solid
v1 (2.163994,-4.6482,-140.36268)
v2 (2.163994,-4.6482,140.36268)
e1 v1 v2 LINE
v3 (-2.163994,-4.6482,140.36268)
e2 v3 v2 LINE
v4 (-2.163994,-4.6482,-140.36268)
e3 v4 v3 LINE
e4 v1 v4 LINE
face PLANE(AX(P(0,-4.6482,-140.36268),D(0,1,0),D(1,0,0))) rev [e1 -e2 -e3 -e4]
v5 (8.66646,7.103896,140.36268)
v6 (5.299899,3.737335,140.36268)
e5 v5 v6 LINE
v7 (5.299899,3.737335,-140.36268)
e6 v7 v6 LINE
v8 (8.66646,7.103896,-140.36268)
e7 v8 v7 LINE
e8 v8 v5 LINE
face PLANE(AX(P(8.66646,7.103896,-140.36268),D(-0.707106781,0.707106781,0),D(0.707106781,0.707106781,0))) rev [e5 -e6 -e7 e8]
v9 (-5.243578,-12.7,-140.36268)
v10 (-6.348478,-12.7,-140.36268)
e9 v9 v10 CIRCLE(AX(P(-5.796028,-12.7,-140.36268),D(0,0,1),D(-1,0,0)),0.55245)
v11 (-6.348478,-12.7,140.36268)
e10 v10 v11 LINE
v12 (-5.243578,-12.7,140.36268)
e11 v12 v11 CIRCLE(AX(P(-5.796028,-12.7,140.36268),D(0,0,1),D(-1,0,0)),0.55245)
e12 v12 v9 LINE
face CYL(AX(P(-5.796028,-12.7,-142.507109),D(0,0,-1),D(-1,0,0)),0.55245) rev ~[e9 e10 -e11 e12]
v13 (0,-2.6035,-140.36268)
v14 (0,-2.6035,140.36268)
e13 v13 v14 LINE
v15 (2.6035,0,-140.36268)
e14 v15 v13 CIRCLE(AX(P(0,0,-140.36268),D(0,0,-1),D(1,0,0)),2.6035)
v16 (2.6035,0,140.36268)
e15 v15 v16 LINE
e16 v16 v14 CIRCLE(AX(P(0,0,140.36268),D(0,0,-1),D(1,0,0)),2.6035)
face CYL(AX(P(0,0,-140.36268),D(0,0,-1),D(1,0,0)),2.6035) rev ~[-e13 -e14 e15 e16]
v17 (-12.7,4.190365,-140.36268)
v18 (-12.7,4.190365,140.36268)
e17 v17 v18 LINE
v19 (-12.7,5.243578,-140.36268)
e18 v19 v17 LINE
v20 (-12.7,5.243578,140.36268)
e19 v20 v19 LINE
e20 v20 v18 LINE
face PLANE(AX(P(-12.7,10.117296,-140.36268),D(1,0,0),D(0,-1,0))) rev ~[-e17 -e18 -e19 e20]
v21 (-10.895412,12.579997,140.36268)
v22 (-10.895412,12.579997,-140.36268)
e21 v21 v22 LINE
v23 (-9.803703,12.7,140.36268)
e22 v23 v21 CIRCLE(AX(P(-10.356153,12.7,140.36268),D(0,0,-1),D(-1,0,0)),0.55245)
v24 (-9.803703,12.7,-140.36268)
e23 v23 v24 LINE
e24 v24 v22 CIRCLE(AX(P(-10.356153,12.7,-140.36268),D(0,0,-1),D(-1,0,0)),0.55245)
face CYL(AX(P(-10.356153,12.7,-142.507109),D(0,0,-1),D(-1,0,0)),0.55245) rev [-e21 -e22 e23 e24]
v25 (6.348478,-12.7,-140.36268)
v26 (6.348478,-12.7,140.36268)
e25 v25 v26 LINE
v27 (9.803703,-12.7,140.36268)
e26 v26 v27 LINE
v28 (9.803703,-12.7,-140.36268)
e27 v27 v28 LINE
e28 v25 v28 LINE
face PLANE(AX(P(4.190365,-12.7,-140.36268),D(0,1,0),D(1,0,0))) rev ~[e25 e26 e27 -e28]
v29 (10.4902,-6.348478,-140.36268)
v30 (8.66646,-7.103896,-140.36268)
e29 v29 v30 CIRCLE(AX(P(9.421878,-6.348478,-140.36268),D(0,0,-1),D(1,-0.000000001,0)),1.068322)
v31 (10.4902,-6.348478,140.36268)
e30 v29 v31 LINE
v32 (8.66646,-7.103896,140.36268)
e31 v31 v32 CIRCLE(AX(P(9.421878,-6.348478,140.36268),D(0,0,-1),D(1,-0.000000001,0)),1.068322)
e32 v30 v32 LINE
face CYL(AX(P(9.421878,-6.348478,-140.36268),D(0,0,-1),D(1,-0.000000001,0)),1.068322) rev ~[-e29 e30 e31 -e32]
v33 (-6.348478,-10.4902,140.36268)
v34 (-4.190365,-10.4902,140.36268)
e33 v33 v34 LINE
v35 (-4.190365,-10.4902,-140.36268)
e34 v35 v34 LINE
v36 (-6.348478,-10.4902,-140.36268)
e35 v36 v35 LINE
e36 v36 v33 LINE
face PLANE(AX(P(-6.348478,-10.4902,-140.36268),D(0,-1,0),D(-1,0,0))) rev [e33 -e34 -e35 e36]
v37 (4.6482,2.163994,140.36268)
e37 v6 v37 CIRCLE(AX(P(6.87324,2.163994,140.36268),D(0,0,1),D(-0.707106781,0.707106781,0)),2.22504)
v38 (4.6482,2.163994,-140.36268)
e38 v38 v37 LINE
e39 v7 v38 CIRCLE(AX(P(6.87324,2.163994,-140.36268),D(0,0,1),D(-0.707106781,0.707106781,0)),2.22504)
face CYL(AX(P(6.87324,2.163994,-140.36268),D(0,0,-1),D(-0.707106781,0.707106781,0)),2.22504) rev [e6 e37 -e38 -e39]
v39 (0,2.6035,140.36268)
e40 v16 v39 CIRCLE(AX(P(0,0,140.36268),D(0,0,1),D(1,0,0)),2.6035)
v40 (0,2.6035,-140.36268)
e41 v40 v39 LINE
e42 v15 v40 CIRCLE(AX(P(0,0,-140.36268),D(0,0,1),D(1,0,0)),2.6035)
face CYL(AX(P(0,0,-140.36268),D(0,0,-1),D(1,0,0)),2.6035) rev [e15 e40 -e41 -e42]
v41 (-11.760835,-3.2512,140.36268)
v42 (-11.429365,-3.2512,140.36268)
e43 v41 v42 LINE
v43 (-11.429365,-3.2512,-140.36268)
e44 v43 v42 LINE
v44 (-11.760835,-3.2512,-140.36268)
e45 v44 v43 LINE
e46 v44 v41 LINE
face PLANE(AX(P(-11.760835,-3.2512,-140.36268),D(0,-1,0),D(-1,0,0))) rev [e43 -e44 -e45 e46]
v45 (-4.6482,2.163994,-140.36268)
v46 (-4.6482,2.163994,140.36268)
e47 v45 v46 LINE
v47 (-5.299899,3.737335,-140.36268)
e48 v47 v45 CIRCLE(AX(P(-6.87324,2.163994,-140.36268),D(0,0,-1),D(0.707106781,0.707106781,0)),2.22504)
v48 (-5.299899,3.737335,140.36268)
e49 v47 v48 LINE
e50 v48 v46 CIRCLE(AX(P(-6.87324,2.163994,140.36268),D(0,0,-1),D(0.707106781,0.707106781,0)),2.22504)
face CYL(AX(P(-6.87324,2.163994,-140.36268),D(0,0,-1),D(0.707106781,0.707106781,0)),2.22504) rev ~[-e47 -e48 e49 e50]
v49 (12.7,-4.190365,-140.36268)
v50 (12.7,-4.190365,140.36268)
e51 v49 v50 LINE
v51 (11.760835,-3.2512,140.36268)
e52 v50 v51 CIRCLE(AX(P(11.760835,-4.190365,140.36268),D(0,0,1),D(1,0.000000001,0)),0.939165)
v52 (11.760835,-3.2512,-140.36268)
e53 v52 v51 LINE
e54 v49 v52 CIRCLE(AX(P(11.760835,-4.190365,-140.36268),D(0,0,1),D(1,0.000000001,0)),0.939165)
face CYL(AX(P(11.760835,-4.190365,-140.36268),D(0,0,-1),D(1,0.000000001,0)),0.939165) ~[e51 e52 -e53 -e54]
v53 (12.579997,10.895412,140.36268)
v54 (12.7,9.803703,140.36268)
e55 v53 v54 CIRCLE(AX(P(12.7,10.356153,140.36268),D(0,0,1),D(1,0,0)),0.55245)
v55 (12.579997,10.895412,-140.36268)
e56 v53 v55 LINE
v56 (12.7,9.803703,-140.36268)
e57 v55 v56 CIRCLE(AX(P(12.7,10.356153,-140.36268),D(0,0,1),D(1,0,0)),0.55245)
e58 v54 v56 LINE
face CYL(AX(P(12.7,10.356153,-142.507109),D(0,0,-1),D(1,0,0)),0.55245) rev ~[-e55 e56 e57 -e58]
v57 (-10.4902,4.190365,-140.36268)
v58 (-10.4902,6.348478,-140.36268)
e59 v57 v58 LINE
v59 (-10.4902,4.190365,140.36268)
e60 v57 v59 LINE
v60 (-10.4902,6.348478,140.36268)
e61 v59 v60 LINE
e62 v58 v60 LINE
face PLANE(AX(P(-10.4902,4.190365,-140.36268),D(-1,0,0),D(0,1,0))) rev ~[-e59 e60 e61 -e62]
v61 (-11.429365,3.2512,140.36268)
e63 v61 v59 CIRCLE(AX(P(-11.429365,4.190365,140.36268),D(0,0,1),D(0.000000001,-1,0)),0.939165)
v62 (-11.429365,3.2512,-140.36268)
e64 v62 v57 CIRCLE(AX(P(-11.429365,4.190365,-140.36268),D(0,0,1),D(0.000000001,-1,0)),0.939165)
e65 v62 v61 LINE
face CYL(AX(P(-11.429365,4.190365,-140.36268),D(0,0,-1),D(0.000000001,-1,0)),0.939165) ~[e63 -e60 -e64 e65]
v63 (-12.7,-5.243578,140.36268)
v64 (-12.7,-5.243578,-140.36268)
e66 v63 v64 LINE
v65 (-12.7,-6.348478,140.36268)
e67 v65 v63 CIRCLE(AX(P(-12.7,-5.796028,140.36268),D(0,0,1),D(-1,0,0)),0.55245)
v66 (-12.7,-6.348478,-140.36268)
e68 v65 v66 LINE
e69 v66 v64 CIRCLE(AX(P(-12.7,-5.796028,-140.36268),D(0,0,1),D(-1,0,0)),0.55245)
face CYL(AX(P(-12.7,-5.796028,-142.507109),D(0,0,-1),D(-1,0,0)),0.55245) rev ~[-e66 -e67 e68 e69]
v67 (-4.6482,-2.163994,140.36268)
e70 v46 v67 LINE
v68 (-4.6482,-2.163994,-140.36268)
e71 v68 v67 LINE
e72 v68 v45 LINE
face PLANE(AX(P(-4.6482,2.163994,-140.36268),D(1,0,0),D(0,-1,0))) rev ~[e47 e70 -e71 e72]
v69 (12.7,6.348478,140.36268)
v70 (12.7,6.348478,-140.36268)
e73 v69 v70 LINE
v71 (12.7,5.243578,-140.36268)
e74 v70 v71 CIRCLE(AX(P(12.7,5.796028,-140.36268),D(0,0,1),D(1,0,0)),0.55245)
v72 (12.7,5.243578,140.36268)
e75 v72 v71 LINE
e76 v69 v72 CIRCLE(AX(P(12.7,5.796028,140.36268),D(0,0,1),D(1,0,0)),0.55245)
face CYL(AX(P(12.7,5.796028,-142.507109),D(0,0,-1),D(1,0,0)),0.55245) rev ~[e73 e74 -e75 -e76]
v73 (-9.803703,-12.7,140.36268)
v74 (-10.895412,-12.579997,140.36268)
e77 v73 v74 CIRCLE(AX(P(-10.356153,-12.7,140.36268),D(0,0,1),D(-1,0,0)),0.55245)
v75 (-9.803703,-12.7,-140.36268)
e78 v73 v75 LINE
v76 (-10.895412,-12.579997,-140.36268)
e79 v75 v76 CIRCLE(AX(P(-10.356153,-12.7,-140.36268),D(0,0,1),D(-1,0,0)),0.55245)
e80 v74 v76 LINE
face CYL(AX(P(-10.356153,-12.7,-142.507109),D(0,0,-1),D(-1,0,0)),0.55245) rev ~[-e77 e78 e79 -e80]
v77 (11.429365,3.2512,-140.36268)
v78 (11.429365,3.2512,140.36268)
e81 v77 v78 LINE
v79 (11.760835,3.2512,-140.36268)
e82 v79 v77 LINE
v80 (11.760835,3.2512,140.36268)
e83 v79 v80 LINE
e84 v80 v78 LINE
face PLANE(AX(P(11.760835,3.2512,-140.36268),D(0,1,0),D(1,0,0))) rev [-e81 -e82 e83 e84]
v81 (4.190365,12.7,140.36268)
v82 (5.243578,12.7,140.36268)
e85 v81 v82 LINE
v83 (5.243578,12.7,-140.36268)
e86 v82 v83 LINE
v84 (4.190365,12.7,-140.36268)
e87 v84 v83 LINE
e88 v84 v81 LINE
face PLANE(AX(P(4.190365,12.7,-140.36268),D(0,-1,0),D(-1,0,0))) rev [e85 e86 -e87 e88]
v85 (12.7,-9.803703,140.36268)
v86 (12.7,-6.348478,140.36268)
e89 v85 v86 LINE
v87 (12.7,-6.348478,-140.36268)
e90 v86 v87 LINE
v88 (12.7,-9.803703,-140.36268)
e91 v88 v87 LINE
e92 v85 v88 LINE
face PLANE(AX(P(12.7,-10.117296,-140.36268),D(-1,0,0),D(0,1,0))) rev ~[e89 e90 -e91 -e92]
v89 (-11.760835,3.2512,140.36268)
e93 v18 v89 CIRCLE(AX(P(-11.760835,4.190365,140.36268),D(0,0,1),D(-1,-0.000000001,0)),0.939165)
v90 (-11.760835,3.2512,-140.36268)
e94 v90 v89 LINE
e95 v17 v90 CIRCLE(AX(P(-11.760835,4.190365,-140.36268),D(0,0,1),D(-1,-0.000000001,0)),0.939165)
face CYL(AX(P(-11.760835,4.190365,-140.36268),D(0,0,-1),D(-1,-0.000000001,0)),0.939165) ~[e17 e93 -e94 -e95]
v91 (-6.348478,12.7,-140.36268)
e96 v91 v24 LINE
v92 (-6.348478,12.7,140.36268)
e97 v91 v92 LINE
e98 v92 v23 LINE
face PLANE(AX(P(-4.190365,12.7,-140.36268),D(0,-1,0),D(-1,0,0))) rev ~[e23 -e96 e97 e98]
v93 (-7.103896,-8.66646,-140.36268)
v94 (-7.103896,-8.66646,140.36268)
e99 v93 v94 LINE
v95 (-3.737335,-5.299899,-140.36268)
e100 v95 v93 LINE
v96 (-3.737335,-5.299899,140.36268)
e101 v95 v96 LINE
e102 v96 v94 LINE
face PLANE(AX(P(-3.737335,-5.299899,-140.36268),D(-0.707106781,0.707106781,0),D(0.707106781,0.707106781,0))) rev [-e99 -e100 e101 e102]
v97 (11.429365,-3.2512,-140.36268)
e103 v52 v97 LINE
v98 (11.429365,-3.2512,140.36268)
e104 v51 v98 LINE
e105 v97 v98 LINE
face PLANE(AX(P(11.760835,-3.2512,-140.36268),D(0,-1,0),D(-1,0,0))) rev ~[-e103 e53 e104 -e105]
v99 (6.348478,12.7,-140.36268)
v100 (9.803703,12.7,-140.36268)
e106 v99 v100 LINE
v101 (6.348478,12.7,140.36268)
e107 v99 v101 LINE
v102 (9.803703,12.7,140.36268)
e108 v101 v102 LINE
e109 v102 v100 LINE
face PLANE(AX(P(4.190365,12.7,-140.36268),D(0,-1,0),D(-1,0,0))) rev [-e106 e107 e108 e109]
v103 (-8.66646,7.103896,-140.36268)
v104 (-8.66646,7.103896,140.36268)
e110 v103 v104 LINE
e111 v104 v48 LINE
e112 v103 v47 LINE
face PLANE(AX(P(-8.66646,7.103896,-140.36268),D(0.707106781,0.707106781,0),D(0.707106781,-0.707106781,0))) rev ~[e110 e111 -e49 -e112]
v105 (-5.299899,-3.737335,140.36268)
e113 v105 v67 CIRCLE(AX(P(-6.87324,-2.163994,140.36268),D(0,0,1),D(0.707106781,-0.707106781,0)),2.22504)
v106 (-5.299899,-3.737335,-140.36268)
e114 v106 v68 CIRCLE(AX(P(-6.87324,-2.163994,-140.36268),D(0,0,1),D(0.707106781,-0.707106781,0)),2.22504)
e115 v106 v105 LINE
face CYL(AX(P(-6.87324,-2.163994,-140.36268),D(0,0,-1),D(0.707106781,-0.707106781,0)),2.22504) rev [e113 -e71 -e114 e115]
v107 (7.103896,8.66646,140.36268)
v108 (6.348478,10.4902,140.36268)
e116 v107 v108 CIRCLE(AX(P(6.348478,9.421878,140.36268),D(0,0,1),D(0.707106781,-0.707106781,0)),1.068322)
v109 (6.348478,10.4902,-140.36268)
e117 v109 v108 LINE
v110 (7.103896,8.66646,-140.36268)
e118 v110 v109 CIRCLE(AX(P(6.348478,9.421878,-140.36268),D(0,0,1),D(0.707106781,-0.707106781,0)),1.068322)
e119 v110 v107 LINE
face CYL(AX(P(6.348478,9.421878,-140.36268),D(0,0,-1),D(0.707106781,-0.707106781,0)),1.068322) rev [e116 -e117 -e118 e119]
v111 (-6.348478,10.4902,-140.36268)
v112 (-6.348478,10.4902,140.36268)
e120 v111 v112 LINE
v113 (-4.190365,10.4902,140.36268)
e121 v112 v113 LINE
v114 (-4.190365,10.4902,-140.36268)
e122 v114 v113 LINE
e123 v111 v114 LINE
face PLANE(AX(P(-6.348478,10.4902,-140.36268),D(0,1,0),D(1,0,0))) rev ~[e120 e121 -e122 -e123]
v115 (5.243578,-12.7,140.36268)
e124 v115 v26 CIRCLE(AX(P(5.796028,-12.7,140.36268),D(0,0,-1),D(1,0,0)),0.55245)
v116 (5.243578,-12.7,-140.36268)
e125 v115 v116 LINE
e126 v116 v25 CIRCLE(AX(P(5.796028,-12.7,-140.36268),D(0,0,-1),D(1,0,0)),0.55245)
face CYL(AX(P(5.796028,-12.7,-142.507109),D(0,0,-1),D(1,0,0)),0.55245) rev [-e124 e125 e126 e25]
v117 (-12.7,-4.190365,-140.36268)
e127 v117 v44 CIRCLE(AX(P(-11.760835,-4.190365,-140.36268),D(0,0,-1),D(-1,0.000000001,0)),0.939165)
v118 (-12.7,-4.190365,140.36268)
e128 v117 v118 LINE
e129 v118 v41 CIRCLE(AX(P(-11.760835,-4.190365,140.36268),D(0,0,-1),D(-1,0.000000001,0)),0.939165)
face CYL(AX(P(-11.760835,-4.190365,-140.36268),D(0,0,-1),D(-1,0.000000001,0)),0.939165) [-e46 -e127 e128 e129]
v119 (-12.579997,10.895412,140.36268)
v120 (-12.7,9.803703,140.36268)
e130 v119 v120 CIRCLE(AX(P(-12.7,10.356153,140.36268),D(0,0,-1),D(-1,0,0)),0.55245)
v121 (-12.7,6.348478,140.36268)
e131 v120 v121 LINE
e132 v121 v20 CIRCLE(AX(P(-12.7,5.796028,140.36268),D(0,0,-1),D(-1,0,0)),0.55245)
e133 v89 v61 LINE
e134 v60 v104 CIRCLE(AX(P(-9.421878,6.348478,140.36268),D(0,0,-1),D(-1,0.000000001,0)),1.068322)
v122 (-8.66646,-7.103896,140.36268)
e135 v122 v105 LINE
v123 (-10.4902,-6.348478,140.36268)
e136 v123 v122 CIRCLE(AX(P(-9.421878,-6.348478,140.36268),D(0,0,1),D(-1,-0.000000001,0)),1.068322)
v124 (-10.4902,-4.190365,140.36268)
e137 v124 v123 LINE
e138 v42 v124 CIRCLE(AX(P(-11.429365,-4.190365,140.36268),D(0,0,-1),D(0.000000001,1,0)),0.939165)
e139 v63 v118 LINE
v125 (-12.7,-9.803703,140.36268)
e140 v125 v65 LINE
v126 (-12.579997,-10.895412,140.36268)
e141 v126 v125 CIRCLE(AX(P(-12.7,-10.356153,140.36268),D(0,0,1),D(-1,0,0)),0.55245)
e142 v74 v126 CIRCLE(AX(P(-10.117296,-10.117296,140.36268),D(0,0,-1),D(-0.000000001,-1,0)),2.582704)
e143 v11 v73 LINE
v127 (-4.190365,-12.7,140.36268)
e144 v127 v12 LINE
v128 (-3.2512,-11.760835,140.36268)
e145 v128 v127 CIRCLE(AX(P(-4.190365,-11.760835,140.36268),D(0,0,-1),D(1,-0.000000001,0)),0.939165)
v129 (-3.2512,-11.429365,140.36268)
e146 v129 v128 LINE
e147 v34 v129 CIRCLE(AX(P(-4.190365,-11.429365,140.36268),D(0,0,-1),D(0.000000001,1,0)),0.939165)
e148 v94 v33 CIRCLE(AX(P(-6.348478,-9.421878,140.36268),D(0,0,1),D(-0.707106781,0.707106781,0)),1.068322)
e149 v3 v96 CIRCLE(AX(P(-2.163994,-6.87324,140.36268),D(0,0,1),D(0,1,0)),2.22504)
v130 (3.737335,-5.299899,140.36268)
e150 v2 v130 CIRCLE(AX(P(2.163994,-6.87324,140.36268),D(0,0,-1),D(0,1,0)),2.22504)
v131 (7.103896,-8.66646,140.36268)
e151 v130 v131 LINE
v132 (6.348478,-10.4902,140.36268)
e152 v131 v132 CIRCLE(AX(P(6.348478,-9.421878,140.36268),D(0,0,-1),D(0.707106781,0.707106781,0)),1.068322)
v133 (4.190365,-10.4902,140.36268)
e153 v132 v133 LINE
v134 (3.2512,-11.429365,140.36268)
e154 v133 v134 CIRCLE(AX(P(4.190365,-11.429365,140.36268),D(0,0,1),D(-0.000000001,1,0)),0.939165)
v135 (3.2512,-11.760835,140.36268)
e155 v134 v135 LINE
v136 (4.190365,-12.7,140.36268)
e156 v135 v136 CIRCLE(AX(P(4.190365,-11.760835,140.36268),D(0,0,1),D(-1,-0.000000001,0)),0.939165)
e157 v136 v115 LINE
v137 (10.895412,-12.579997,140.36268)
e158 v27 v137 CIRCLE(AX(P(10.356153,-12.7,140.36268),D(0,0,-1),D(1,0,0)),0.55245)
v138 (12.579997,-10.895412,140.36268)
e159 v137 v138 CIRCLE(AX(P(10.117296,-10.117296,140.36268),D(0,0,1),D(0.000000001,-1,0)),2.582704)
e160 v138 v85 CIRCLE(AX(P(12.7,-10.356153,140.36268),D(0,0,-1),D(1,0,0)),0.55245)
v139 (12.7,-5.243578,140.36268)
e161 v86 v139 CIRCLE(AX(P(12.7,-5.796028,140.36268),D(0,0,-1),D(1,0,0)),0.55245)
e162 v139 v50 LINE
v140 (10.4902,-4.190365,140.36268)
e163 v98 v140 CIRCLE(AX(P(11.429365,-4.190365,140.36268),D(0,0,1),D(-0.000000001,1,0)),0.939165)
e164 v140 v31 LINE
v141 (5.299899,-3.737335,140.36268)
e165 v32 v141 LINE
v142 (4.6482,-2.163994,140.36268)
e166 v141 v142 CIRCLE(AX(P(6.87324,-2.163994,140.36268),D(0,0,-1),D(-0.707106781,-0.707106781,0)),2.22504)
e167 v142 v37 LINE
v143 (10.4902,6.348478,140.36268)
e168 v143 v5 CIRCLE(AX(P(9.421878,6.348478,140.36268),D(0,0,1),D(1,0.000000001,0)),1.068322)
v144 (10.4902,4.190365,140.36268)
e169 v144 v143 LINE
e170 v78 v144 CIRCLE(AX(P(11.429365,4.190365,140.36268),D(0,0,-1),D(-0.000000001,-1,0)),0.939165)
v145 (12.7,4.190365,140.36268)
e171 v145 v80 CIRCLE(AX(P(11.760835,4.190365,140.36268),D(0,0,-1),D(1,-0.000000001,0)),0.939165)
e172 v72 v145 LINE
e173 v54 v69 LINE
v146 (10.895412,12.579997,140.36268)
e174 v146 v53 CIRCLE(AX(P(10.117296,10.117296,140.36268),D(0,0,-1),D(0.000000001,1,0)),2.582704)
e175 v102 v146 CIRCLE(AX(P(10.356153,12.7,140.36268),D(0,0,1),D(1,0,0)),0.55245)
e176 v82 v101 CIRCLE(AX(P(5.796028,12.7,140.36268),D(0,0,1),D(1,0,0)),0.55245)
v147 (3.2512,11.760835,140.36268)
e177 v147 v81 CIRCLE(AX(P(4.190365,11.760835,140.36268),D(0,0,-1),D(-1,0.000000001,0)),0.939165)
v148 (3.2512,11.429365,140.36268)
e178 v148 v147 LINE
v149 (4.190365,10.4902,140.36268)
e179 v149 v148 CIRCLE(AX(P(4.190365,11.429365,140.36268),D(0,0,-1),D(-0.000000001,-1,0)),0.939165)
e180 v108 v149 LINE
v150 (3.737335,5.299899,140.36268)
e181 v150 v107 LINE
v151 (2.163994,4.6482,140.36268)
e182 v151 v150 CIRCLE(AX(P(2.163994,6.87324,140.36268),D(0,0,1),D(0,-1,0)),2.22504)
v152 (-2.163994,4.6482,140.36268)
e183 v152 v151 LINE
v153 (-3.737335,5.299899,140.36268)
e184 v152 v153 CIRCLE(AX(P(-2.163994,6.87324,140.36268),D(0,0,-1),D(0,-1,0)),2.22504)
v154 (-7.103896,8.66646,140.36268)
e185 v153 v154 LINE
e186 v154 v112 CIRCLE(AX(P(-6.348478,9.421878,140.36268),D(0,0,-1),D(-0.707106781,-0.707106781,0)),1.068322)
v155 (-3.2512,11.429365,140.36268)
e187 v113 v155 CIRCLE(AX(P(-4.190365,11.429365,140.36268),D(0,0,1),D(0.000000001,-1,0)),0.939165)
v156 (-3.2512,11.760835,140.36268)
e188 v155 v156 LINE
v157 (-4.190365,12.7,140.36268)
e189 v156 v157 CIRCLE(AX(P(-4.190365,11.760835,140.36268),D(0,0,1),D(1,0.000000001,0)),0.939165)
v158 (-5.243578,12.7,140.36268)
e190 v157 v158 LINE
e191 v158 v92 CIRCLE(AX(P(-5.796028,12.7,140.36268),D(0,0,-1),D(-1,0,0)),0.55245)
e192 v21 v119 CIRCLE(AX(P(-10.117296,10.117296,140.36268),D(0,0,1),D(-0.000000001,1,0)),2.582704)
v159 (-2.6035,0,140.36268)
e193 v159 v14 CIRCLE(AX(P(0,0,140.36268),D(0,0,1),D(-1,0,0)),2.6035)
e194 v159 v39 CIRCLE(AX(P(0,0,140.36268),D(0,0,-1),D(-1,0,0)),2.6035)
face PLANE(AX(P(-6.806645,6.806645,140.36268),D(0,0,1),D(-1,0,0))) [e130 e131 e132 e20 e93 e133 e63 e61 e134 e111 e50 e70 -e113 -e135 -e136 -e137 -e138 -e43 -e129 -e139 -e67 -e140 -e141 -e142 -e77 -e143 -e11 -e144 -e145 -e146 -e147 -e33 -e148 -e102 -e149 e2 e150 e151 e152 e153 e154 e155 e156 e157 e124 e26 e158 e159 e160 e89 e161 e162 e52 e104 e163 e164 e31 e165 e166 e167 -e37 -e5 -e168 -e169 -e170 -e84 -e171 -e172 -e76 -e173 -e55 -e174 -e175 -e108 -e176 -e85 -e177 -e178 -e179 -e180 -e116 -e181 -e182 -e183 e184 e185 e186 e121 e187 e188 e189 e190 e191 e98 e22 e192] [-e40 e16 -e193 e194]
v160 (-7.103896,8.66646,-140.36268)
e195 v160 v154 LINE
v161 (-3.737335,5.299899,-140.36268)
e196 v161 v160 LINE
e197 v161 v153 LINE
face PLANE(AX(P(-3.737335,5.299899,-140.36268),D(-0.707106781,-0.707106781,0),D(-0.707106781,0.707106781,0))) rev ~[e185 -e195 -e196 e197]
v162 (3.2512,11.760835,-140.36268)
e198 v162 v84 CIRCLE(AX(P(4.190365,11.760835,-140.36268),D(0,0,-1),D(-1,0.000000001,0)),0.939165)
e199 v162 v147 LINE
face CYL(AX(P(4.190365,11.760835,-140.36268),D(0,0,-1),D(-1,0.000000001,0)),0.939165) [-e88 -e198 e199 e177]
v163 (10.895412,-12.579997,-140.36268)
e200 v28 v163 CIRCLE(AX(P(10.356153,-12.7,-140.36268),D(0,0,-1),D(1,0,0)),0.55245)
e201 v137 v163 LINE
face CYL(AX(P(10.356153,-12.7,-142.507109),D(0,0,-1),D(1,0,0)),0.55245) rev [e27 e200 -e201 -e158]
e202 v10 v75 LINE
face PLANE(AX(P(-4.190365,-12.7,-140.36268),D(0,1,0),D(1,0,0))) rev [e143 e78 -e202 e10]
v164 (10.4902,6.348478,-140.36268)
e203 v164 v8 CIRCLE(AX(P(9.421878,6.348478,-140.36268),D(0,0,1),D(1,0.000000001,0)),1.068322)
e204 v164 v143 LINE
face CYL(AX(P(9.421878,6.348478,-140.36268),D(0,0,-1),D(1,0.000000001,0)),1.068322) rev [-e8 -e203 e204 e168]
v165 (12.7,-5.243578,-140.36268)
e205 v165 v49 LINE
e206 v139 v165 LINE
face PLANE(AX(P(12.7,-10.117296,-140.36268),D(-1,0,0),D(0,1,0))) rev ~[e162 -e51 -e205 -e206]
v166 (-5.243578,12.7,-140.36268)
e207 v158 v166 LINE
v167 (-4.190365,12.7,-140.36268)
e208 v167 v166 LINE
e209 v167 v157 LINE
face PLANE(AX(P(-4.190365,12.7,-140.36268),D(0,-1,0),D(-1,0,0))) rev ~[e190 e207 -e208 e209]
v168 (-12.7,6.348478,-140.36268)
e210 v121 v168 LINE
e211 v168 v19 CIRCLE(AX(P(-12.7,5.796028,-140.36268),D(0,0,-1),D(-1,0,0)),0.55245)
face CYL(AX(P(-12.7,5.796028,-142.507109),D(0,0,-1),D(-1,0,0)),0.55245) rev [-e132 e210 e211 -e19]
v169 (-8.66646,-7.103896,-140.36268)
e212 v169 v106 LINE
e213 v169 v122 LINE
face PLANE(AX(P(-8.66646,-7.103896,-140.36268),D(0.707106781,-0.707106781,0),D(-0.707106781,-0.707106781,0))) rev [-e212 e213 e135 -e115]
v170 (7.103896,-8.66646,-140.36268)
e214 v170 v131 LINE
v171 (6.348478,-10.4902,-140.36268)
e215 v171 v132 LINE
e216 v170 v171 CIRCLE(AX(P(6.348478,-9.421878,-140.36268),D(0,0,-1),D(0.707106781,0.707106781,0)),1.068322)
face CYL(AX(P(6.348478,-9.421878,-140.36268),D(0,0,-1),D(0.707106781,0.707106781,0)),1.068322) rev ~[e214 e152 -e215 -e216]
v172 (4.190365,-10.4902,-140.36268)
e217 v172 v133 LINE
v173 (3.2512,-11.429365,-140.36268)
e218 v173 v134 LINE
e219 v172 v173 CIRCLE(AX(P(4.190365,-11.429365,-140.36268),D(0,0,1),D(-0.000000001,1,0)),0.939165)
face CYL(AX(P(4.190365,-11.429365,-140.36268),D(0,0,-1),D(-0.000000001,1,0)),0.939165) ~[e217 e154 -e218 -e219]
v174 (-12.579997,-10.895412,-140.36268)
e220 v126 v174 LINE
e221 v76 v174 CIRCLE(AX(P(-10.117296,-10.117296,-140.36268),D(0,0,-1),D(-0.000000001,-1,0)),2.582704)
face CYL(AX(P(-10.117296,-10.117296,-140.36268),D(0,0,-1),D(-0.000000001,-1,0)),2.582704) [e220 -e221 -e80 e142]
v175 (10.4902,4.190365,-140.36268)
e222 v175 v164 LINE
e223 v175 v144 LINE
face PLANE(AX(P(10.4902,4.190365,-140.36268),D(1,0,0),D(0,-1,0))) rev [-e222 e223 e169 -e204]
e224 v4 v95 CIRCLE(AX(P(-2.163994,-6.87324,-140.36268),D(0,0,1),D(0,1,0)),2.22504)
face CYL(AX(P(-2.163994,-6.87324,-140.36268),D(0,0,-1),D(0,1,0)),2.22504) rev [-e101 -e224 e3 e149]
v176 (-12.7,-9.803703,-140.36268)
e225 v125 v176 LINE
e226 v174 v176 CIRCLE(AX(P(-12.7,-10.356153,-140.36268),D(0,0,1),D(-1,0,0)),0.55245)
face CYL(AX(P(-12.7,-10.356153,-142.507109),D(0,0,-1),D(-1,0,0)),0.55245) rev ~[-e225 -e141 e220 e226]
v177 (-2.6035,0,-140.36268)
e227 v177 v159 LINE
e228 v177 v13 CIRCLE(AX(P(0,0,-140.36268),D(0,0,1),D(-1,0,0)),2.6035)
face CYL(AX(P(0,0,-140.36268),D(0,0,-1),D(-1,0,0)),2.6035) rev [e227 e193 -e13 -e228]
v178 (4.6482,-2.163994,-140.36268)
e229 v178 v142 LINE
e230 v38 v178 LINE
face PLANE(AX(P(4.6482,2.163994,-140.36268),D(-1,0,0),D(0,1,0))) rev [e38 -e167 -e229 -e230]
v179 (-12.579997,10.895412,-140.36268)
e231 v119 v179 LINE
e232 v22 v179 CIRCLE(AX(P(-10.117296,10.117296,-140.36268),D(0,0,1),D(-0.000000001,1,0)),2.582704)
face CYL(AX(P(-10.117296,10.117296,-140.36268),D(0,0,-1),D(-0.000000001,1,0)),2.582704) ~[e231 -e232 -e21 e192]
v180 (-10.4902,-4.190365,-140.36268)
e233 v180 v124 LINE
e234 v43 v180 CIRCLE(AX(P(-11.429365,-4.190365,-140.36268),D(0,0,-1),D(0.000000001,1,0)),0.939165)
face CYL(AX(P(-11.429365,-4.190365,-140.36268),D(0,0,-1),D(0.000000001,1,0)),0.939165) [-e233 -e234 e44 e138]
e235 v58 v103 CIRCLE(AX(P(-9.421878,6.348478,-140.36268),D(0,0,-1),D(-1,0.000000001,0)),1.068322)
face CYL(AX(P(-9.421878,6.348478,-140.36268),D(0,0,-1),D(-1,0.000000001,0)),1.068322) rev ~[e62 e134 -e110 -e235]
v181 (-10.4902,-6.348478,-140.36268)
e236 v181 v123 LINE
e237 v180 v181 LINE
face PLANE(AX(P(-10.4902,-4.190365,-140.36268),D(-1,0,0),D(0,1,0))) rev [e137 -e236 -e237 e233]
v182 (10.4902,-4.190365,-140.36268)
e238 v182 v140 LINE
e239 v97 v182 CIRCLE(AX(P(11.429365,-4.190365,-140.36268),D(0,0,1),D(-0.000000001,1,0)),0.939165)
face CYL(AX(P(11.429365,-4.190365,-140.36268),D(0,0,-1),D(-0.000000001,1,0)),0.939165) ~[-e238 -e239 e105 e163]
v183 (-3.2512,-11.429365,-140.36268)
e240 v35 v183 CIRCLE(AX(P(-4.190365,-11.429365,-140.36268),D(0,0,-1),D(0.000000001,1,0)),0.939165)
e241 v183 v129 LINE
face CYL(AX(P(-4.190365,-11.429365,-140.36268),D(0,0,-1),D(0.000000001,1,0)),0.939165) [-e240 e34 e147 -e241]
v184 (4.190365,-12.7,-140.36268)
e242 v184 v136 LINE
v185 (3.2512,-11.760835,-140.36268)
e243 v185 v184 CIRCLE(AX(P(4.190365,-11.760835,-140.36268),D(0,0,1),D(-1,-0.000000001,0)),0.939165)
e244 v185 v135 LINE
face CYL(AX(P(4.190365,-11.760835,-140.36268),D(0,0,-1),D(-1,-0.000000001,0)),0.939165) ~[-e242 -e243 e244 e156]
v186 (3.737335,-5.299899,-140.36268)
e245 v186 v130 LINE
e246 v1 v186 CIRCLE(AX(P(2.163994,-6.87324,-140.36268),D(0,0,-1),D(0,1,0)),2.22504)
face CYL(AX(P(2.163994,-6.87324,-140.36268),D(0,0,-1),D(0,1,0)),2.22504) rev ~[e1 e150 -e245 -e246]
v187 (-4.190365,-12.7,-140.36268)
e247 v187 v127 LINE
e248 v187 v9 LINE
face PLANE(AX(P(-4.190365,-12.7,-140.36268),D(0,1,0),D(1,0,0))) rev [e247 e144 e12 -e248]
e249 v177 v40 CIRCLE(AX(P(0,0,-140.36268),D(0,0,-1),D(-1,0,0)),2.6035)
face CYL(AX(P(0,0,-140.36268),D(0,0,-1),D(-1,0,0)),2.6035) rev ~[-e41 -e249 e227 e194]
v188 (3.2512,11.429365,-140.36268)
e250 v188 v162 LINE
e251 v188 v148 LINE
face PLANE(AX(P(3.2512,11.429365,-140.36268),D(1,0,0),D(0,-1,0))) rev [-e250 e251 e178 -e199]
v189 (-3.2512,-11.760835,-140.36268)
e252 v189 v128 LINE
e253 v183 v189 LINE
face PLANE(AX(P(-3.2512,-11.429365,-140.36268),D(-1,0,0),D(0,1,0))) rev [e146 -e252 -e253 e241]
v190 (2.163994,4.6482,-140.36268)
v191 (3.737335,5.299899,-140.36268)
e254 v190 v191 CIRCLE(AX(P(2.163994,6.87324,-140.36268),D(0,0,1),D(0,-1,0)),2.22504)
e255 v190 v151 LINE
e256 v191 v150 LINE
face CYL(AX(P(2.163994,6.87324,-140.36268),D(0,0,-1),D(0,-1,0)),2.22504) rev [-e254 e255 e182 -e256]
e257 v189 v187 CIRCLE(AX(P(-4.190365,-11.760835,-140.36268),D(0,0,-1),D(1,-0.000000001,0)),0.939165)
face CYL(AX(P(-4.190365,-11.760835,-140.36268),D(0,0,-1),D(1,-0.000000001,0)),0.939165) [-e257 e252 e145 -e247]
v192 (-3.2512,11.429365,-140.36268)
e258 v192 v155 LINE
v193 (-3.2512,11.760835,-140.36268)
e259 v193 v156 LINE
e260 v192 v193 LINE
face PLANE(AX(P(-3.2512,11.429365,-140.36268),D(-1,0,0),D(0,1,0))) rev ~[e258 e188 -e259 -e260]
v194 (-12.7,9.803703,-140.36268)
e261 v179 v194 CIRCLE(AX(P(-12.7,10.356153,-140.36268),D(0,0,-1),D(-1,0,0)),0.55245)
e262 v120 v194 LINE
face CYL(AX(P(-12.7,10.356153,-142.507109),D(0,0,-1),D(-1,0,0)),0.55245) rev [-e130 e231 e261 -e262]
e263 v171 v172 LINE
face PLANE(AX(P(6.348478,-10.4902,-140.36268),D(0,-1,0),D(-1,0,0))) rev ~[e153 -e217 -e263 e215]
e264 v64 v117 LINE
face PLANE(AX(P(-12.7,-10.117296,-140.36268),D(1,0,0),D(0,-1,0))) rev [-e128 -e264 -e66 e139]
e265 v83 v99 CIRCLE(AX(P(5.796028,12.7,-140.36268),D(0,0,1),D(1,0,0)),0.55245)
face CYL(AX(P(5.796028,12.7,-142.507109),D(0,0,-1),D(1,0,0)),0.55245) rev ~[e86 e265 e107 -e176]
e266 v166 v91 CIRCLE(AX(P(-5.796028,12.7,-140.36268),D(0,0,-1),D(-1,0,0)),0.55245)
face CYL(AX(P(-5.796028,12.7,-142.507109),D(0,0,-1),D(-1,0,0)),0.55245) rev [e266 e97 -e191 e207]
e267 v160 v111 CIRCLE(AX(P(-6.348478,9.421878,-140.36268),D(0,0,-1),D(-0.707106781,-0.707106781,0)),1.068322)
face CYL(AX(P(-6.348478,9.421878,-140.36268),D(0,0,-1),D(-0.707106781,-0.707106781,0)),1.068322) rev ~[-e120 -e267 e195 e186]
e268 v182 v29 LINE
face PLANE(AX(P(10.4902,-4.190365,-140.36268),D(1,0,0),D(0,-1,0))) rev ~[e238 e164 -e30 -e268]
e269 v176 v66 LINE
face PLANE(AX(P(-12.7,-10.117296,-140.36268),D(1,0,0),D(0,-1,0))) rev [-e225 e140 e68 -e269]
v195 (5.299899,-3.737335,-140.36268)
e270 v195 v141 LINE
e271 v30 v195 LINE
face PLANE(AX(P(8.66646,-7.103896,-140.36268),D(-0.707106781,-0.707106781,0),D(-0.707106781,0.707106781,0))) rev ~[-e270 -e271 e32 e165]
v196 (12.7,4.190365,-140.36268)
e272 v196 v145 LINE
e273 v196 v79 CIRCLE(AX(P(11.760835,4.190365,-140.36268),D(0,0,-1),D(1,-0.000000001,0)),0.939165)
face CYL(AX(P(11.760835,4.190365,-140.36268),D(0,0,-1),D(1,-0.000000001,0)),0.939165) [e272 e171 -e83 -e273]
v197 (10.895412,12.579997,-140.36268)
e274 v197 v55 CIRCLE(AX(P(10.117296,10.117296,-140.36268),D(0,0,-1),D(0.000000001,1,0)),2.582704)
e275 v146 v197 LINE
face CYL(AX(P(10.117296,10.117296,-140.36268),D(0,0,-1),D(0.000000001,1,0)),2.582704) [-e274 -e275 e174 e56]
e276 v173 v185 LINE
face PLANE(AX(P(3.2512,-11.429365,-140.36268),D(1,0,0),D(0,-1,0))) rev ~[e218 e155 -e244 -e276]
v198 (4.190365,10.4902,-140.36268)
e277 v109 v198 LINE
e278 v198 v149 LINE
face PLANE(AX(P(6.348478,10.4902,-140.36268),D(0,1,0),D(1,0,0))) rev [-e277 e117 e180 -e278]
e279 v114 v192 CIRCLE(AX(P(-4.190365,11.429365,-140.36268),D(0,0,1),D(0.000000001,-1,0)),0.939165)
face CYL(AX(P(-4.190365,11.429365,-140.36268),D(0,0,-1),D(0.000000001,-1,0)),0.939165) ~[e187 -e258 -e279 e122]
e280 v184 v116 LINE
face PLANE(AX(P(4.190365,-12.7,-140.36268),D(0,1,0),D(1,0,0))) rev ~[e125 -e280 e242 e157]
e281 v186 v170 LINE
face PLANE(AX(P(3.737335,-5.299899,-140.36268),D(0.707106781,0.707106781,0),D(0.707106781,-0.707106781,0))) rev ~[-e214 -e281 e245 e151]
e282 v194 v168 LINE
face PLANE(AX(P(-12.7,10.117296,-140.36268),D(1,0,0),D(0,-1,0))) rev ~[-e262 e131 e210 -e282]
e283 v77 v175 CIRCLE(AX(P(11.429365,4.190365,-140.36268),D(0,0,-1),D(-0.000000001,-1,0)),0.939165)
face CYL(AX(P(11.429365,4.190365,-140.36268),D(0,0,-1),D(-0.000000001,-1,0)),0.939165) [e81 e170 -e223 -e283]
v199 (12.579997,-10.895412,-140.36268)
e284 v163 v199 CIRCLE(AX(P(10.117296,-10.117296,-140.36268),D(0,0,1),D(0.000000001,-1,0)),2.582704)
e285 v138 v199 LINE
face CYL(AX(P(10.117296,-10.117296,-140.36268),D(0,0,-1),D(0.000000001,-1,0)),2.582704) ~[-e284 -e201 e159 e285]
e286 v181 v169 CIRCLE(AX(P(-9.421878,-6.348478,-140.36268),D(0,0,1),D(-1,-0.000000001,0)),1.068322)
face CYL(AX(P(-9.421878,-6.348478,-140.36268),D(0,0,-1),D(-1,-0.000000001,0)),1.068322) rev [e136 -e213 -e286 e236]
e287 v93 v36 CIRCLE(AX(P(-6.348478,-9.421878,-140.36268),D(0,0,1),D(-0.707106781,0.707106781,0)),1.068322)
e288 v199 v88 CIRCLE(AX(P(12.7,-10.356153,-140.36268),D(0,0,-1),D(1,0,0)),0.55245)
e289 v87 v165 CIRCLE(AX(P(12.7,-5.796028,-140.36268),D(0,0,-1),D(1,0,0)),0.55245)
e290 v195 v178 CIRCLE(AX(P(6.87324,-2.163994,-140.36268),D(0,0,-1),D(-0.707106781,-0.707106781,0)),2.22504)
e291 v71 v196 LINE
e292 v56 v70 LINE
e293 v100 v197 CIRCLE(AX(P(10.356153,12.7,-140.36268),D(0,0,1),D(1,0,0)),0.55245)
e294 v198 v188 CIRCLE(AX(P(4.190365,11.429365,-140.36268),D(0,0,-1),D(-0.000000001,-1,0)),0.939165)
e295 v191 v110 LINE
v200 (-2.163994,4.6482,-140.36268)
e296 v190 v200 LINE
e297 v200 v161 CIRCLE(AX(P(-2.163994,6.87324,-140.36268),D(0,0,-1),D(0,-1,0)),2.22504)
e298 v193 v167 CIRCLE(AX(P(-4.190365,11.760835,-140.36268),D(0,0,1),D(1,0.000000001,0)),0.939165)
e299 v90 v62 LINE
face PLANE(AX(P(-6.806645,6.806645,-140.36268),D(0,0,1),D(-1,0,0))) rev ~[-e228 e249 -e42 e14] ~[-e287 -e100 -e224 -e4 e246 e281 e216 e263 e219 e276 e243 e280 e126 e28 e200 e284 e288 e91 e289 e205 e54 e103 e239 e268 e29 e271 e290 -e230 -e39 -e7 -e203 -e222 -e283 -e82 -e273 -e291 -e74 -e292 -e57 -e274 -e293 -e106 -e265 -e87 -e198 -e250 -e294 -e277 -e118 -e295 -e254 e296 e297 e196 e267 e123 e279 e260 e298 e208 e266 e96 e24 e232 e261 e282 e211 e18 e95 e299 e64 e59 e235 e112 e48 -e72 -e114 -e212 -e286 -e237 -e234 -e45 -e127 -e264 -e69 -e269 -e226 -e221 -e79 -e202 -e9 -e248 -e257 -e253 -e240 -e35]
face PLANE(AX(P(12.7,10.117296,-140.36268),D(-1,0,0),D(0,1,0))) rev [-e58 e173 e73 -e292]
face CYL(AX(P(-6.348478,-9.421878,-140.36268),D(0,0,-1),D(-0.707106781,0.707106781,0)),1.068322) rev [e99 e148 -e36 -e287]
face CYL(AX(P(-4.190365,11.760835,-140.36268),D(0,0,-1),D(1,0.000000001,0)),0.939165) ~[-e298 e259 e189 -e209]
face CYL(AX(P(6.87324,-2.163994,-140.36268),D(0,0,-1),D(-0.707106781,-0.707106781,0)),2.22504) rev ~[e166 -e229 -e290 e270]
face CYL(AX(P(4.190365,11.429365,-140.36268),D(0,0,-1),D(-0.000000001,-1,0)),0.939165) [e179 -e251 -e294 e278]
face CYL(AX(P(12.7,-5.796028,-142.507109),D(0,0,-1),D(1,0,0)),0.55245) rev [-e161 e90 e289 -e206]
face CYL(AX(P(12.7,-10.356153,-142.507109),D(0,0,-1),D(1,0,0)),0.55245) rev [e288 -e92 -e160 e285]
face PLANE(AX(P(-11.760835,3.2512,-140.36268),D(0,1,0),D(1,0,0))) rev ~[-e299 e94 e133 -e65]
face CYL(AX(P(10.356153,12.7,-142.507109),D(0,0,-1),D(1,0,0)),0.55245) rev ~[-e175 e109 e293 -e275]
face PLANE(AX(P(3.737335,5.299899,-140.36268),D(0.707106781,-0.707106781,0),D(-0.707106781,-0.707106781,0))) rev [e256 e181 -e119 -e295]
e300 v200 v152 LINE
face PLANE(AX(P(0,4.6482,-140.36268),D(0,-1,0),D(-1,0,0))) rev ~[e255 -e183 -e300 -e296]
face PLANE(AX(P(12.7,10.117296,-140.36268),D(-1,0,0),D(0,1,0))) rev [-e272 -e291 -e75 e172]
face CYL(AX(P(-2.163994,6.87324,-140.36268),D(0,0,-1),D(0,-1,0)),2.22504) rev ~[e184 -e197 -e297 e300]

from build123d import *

# Parameters (mm, degrees)
BOSS_EXTRUDE1_START     = -140.36268
BOSS_EXTRUDE1_DEPTH     = 280.72536
CUT_EXTRUDE1_DEPTH      = 142.507109139
CUT_EXTRUDE1_DEPTH_BACK = 142.507109139
SKETCH5_R               = 0.55245


with BuildPart() as part:
    # Sketch4 → Boss-Extrude1 (new body)
    with BuildSketch(Plane.XY.offset(BOSS_EXTRUDE1_START)):
        with BuildLine():
            Line((4.190365, -12.7), (10.11729625, -12.7))
            ThreePointArc((10.11729625, -12.7), (11.943543585, -11.943543585), (12.7, -10.11729625))
            Line((12.7, -10.11729625), (12.7, -4.190365))
            ThreePointArc((12.7, -4.190365), (12.42492494, -3.52627506), (11.760835, -3.2512))
            Line((11.760835, -3.2512), (11.429365, -3.2512))
            ThreePointArc((11.429365, -3.2512), (10.76527506, -3.52627506), (10.4902, -4.190365))
            Line((10.4902, -4.190365), (10.4902, -6.348478019))
            ThreePointArc((10.4902, -6.348478019), (9.830707141, -7.335478831), (8.666460301, -7.103895736))
            Line((8.666460301, -7.103895736), (5.299899128, -3.737334563))
            ThreePointArc((5.299899128, -3.737334563), (4.817571085, -3.015479634), (4.6482, -2.16399369))
            Line((4.6482, -2.16399369), (4.6482, 0))
            Line((4.6482, 0), (2.6035, 0))
            ThreePointArc((2.6035, 0), (1.840952505, -1.840952505), (0, -2.6035))
            Line((0, -2.6035), (0, -4.6482))
            Line((0, -4.6482), (2.16399369, -4.6482))
            ThreePointArc((2.16399369, -4.6482), (3.015479634, -4.817571085), (3.737334563, -5.299899128))
            Line((3.737334563, -5.299899128), (7.103895736, -8.666460301))
            ThreePointArc((7.103895736, -8.666460301), (7.335478831, -9.830707141), (6.348478019, -10.4902))
            Line((6.348478019, -10.4902), (4.190365, -10.4902))
            ThreePointArc((4.190365, -10.4902), (3.52627506, -10.76527506), (3.2512, -11.429365))
            Line((3.2512, -11.429365), (3.2512, -11.760835))
            ThreePointArc((3.2512, -11.760835), (3.52627506, -12.42492494), (4.190365, -12.7))
        make_face()
    extrude(amount=BOSS_EXTRUDE1_DEPTH)

    # Sketch5 → Cut-Extrude1 (cut, two sides: drawn at the far end of the back side and taken through both)
    with BuildSketch(Plane.XY.offset(-CUT_EXTRUDE1_DEPTH_BACK)):
        with Locations((10.356153152, -12.7)):
            Circle(SKETCH5_R)
        with Locations((5.796028019, -12.7)):
            Circle(SKETCH5_R)
        with Locations((12.7, -10.356153152)):
            Circle(SKETCH5_R)
        with Locations((12.7, -5.796028019)):
            Circle(SKETCH5_R)
    extrude(amount=CUT_EXTRUDE1_DEPTH + CUT_EXTRUDE1_DEPTH_BACK, mode=Mode.SUBTRACT)

    # Mirror1: part across plane


with BuildPart() as part_1:
    add(part.part)
    add(part.part.mirror(Plane(origin=(0, 0, 0), x_dir=(0, 0, 1), z_dir=(1, 0, 0))))

    # Mirror2: part across plane


with BuildPart() as part_2:
    add(part_1.part)
    add(part_1.part.mirror(Plane.ZX))


solid = part_2.part
